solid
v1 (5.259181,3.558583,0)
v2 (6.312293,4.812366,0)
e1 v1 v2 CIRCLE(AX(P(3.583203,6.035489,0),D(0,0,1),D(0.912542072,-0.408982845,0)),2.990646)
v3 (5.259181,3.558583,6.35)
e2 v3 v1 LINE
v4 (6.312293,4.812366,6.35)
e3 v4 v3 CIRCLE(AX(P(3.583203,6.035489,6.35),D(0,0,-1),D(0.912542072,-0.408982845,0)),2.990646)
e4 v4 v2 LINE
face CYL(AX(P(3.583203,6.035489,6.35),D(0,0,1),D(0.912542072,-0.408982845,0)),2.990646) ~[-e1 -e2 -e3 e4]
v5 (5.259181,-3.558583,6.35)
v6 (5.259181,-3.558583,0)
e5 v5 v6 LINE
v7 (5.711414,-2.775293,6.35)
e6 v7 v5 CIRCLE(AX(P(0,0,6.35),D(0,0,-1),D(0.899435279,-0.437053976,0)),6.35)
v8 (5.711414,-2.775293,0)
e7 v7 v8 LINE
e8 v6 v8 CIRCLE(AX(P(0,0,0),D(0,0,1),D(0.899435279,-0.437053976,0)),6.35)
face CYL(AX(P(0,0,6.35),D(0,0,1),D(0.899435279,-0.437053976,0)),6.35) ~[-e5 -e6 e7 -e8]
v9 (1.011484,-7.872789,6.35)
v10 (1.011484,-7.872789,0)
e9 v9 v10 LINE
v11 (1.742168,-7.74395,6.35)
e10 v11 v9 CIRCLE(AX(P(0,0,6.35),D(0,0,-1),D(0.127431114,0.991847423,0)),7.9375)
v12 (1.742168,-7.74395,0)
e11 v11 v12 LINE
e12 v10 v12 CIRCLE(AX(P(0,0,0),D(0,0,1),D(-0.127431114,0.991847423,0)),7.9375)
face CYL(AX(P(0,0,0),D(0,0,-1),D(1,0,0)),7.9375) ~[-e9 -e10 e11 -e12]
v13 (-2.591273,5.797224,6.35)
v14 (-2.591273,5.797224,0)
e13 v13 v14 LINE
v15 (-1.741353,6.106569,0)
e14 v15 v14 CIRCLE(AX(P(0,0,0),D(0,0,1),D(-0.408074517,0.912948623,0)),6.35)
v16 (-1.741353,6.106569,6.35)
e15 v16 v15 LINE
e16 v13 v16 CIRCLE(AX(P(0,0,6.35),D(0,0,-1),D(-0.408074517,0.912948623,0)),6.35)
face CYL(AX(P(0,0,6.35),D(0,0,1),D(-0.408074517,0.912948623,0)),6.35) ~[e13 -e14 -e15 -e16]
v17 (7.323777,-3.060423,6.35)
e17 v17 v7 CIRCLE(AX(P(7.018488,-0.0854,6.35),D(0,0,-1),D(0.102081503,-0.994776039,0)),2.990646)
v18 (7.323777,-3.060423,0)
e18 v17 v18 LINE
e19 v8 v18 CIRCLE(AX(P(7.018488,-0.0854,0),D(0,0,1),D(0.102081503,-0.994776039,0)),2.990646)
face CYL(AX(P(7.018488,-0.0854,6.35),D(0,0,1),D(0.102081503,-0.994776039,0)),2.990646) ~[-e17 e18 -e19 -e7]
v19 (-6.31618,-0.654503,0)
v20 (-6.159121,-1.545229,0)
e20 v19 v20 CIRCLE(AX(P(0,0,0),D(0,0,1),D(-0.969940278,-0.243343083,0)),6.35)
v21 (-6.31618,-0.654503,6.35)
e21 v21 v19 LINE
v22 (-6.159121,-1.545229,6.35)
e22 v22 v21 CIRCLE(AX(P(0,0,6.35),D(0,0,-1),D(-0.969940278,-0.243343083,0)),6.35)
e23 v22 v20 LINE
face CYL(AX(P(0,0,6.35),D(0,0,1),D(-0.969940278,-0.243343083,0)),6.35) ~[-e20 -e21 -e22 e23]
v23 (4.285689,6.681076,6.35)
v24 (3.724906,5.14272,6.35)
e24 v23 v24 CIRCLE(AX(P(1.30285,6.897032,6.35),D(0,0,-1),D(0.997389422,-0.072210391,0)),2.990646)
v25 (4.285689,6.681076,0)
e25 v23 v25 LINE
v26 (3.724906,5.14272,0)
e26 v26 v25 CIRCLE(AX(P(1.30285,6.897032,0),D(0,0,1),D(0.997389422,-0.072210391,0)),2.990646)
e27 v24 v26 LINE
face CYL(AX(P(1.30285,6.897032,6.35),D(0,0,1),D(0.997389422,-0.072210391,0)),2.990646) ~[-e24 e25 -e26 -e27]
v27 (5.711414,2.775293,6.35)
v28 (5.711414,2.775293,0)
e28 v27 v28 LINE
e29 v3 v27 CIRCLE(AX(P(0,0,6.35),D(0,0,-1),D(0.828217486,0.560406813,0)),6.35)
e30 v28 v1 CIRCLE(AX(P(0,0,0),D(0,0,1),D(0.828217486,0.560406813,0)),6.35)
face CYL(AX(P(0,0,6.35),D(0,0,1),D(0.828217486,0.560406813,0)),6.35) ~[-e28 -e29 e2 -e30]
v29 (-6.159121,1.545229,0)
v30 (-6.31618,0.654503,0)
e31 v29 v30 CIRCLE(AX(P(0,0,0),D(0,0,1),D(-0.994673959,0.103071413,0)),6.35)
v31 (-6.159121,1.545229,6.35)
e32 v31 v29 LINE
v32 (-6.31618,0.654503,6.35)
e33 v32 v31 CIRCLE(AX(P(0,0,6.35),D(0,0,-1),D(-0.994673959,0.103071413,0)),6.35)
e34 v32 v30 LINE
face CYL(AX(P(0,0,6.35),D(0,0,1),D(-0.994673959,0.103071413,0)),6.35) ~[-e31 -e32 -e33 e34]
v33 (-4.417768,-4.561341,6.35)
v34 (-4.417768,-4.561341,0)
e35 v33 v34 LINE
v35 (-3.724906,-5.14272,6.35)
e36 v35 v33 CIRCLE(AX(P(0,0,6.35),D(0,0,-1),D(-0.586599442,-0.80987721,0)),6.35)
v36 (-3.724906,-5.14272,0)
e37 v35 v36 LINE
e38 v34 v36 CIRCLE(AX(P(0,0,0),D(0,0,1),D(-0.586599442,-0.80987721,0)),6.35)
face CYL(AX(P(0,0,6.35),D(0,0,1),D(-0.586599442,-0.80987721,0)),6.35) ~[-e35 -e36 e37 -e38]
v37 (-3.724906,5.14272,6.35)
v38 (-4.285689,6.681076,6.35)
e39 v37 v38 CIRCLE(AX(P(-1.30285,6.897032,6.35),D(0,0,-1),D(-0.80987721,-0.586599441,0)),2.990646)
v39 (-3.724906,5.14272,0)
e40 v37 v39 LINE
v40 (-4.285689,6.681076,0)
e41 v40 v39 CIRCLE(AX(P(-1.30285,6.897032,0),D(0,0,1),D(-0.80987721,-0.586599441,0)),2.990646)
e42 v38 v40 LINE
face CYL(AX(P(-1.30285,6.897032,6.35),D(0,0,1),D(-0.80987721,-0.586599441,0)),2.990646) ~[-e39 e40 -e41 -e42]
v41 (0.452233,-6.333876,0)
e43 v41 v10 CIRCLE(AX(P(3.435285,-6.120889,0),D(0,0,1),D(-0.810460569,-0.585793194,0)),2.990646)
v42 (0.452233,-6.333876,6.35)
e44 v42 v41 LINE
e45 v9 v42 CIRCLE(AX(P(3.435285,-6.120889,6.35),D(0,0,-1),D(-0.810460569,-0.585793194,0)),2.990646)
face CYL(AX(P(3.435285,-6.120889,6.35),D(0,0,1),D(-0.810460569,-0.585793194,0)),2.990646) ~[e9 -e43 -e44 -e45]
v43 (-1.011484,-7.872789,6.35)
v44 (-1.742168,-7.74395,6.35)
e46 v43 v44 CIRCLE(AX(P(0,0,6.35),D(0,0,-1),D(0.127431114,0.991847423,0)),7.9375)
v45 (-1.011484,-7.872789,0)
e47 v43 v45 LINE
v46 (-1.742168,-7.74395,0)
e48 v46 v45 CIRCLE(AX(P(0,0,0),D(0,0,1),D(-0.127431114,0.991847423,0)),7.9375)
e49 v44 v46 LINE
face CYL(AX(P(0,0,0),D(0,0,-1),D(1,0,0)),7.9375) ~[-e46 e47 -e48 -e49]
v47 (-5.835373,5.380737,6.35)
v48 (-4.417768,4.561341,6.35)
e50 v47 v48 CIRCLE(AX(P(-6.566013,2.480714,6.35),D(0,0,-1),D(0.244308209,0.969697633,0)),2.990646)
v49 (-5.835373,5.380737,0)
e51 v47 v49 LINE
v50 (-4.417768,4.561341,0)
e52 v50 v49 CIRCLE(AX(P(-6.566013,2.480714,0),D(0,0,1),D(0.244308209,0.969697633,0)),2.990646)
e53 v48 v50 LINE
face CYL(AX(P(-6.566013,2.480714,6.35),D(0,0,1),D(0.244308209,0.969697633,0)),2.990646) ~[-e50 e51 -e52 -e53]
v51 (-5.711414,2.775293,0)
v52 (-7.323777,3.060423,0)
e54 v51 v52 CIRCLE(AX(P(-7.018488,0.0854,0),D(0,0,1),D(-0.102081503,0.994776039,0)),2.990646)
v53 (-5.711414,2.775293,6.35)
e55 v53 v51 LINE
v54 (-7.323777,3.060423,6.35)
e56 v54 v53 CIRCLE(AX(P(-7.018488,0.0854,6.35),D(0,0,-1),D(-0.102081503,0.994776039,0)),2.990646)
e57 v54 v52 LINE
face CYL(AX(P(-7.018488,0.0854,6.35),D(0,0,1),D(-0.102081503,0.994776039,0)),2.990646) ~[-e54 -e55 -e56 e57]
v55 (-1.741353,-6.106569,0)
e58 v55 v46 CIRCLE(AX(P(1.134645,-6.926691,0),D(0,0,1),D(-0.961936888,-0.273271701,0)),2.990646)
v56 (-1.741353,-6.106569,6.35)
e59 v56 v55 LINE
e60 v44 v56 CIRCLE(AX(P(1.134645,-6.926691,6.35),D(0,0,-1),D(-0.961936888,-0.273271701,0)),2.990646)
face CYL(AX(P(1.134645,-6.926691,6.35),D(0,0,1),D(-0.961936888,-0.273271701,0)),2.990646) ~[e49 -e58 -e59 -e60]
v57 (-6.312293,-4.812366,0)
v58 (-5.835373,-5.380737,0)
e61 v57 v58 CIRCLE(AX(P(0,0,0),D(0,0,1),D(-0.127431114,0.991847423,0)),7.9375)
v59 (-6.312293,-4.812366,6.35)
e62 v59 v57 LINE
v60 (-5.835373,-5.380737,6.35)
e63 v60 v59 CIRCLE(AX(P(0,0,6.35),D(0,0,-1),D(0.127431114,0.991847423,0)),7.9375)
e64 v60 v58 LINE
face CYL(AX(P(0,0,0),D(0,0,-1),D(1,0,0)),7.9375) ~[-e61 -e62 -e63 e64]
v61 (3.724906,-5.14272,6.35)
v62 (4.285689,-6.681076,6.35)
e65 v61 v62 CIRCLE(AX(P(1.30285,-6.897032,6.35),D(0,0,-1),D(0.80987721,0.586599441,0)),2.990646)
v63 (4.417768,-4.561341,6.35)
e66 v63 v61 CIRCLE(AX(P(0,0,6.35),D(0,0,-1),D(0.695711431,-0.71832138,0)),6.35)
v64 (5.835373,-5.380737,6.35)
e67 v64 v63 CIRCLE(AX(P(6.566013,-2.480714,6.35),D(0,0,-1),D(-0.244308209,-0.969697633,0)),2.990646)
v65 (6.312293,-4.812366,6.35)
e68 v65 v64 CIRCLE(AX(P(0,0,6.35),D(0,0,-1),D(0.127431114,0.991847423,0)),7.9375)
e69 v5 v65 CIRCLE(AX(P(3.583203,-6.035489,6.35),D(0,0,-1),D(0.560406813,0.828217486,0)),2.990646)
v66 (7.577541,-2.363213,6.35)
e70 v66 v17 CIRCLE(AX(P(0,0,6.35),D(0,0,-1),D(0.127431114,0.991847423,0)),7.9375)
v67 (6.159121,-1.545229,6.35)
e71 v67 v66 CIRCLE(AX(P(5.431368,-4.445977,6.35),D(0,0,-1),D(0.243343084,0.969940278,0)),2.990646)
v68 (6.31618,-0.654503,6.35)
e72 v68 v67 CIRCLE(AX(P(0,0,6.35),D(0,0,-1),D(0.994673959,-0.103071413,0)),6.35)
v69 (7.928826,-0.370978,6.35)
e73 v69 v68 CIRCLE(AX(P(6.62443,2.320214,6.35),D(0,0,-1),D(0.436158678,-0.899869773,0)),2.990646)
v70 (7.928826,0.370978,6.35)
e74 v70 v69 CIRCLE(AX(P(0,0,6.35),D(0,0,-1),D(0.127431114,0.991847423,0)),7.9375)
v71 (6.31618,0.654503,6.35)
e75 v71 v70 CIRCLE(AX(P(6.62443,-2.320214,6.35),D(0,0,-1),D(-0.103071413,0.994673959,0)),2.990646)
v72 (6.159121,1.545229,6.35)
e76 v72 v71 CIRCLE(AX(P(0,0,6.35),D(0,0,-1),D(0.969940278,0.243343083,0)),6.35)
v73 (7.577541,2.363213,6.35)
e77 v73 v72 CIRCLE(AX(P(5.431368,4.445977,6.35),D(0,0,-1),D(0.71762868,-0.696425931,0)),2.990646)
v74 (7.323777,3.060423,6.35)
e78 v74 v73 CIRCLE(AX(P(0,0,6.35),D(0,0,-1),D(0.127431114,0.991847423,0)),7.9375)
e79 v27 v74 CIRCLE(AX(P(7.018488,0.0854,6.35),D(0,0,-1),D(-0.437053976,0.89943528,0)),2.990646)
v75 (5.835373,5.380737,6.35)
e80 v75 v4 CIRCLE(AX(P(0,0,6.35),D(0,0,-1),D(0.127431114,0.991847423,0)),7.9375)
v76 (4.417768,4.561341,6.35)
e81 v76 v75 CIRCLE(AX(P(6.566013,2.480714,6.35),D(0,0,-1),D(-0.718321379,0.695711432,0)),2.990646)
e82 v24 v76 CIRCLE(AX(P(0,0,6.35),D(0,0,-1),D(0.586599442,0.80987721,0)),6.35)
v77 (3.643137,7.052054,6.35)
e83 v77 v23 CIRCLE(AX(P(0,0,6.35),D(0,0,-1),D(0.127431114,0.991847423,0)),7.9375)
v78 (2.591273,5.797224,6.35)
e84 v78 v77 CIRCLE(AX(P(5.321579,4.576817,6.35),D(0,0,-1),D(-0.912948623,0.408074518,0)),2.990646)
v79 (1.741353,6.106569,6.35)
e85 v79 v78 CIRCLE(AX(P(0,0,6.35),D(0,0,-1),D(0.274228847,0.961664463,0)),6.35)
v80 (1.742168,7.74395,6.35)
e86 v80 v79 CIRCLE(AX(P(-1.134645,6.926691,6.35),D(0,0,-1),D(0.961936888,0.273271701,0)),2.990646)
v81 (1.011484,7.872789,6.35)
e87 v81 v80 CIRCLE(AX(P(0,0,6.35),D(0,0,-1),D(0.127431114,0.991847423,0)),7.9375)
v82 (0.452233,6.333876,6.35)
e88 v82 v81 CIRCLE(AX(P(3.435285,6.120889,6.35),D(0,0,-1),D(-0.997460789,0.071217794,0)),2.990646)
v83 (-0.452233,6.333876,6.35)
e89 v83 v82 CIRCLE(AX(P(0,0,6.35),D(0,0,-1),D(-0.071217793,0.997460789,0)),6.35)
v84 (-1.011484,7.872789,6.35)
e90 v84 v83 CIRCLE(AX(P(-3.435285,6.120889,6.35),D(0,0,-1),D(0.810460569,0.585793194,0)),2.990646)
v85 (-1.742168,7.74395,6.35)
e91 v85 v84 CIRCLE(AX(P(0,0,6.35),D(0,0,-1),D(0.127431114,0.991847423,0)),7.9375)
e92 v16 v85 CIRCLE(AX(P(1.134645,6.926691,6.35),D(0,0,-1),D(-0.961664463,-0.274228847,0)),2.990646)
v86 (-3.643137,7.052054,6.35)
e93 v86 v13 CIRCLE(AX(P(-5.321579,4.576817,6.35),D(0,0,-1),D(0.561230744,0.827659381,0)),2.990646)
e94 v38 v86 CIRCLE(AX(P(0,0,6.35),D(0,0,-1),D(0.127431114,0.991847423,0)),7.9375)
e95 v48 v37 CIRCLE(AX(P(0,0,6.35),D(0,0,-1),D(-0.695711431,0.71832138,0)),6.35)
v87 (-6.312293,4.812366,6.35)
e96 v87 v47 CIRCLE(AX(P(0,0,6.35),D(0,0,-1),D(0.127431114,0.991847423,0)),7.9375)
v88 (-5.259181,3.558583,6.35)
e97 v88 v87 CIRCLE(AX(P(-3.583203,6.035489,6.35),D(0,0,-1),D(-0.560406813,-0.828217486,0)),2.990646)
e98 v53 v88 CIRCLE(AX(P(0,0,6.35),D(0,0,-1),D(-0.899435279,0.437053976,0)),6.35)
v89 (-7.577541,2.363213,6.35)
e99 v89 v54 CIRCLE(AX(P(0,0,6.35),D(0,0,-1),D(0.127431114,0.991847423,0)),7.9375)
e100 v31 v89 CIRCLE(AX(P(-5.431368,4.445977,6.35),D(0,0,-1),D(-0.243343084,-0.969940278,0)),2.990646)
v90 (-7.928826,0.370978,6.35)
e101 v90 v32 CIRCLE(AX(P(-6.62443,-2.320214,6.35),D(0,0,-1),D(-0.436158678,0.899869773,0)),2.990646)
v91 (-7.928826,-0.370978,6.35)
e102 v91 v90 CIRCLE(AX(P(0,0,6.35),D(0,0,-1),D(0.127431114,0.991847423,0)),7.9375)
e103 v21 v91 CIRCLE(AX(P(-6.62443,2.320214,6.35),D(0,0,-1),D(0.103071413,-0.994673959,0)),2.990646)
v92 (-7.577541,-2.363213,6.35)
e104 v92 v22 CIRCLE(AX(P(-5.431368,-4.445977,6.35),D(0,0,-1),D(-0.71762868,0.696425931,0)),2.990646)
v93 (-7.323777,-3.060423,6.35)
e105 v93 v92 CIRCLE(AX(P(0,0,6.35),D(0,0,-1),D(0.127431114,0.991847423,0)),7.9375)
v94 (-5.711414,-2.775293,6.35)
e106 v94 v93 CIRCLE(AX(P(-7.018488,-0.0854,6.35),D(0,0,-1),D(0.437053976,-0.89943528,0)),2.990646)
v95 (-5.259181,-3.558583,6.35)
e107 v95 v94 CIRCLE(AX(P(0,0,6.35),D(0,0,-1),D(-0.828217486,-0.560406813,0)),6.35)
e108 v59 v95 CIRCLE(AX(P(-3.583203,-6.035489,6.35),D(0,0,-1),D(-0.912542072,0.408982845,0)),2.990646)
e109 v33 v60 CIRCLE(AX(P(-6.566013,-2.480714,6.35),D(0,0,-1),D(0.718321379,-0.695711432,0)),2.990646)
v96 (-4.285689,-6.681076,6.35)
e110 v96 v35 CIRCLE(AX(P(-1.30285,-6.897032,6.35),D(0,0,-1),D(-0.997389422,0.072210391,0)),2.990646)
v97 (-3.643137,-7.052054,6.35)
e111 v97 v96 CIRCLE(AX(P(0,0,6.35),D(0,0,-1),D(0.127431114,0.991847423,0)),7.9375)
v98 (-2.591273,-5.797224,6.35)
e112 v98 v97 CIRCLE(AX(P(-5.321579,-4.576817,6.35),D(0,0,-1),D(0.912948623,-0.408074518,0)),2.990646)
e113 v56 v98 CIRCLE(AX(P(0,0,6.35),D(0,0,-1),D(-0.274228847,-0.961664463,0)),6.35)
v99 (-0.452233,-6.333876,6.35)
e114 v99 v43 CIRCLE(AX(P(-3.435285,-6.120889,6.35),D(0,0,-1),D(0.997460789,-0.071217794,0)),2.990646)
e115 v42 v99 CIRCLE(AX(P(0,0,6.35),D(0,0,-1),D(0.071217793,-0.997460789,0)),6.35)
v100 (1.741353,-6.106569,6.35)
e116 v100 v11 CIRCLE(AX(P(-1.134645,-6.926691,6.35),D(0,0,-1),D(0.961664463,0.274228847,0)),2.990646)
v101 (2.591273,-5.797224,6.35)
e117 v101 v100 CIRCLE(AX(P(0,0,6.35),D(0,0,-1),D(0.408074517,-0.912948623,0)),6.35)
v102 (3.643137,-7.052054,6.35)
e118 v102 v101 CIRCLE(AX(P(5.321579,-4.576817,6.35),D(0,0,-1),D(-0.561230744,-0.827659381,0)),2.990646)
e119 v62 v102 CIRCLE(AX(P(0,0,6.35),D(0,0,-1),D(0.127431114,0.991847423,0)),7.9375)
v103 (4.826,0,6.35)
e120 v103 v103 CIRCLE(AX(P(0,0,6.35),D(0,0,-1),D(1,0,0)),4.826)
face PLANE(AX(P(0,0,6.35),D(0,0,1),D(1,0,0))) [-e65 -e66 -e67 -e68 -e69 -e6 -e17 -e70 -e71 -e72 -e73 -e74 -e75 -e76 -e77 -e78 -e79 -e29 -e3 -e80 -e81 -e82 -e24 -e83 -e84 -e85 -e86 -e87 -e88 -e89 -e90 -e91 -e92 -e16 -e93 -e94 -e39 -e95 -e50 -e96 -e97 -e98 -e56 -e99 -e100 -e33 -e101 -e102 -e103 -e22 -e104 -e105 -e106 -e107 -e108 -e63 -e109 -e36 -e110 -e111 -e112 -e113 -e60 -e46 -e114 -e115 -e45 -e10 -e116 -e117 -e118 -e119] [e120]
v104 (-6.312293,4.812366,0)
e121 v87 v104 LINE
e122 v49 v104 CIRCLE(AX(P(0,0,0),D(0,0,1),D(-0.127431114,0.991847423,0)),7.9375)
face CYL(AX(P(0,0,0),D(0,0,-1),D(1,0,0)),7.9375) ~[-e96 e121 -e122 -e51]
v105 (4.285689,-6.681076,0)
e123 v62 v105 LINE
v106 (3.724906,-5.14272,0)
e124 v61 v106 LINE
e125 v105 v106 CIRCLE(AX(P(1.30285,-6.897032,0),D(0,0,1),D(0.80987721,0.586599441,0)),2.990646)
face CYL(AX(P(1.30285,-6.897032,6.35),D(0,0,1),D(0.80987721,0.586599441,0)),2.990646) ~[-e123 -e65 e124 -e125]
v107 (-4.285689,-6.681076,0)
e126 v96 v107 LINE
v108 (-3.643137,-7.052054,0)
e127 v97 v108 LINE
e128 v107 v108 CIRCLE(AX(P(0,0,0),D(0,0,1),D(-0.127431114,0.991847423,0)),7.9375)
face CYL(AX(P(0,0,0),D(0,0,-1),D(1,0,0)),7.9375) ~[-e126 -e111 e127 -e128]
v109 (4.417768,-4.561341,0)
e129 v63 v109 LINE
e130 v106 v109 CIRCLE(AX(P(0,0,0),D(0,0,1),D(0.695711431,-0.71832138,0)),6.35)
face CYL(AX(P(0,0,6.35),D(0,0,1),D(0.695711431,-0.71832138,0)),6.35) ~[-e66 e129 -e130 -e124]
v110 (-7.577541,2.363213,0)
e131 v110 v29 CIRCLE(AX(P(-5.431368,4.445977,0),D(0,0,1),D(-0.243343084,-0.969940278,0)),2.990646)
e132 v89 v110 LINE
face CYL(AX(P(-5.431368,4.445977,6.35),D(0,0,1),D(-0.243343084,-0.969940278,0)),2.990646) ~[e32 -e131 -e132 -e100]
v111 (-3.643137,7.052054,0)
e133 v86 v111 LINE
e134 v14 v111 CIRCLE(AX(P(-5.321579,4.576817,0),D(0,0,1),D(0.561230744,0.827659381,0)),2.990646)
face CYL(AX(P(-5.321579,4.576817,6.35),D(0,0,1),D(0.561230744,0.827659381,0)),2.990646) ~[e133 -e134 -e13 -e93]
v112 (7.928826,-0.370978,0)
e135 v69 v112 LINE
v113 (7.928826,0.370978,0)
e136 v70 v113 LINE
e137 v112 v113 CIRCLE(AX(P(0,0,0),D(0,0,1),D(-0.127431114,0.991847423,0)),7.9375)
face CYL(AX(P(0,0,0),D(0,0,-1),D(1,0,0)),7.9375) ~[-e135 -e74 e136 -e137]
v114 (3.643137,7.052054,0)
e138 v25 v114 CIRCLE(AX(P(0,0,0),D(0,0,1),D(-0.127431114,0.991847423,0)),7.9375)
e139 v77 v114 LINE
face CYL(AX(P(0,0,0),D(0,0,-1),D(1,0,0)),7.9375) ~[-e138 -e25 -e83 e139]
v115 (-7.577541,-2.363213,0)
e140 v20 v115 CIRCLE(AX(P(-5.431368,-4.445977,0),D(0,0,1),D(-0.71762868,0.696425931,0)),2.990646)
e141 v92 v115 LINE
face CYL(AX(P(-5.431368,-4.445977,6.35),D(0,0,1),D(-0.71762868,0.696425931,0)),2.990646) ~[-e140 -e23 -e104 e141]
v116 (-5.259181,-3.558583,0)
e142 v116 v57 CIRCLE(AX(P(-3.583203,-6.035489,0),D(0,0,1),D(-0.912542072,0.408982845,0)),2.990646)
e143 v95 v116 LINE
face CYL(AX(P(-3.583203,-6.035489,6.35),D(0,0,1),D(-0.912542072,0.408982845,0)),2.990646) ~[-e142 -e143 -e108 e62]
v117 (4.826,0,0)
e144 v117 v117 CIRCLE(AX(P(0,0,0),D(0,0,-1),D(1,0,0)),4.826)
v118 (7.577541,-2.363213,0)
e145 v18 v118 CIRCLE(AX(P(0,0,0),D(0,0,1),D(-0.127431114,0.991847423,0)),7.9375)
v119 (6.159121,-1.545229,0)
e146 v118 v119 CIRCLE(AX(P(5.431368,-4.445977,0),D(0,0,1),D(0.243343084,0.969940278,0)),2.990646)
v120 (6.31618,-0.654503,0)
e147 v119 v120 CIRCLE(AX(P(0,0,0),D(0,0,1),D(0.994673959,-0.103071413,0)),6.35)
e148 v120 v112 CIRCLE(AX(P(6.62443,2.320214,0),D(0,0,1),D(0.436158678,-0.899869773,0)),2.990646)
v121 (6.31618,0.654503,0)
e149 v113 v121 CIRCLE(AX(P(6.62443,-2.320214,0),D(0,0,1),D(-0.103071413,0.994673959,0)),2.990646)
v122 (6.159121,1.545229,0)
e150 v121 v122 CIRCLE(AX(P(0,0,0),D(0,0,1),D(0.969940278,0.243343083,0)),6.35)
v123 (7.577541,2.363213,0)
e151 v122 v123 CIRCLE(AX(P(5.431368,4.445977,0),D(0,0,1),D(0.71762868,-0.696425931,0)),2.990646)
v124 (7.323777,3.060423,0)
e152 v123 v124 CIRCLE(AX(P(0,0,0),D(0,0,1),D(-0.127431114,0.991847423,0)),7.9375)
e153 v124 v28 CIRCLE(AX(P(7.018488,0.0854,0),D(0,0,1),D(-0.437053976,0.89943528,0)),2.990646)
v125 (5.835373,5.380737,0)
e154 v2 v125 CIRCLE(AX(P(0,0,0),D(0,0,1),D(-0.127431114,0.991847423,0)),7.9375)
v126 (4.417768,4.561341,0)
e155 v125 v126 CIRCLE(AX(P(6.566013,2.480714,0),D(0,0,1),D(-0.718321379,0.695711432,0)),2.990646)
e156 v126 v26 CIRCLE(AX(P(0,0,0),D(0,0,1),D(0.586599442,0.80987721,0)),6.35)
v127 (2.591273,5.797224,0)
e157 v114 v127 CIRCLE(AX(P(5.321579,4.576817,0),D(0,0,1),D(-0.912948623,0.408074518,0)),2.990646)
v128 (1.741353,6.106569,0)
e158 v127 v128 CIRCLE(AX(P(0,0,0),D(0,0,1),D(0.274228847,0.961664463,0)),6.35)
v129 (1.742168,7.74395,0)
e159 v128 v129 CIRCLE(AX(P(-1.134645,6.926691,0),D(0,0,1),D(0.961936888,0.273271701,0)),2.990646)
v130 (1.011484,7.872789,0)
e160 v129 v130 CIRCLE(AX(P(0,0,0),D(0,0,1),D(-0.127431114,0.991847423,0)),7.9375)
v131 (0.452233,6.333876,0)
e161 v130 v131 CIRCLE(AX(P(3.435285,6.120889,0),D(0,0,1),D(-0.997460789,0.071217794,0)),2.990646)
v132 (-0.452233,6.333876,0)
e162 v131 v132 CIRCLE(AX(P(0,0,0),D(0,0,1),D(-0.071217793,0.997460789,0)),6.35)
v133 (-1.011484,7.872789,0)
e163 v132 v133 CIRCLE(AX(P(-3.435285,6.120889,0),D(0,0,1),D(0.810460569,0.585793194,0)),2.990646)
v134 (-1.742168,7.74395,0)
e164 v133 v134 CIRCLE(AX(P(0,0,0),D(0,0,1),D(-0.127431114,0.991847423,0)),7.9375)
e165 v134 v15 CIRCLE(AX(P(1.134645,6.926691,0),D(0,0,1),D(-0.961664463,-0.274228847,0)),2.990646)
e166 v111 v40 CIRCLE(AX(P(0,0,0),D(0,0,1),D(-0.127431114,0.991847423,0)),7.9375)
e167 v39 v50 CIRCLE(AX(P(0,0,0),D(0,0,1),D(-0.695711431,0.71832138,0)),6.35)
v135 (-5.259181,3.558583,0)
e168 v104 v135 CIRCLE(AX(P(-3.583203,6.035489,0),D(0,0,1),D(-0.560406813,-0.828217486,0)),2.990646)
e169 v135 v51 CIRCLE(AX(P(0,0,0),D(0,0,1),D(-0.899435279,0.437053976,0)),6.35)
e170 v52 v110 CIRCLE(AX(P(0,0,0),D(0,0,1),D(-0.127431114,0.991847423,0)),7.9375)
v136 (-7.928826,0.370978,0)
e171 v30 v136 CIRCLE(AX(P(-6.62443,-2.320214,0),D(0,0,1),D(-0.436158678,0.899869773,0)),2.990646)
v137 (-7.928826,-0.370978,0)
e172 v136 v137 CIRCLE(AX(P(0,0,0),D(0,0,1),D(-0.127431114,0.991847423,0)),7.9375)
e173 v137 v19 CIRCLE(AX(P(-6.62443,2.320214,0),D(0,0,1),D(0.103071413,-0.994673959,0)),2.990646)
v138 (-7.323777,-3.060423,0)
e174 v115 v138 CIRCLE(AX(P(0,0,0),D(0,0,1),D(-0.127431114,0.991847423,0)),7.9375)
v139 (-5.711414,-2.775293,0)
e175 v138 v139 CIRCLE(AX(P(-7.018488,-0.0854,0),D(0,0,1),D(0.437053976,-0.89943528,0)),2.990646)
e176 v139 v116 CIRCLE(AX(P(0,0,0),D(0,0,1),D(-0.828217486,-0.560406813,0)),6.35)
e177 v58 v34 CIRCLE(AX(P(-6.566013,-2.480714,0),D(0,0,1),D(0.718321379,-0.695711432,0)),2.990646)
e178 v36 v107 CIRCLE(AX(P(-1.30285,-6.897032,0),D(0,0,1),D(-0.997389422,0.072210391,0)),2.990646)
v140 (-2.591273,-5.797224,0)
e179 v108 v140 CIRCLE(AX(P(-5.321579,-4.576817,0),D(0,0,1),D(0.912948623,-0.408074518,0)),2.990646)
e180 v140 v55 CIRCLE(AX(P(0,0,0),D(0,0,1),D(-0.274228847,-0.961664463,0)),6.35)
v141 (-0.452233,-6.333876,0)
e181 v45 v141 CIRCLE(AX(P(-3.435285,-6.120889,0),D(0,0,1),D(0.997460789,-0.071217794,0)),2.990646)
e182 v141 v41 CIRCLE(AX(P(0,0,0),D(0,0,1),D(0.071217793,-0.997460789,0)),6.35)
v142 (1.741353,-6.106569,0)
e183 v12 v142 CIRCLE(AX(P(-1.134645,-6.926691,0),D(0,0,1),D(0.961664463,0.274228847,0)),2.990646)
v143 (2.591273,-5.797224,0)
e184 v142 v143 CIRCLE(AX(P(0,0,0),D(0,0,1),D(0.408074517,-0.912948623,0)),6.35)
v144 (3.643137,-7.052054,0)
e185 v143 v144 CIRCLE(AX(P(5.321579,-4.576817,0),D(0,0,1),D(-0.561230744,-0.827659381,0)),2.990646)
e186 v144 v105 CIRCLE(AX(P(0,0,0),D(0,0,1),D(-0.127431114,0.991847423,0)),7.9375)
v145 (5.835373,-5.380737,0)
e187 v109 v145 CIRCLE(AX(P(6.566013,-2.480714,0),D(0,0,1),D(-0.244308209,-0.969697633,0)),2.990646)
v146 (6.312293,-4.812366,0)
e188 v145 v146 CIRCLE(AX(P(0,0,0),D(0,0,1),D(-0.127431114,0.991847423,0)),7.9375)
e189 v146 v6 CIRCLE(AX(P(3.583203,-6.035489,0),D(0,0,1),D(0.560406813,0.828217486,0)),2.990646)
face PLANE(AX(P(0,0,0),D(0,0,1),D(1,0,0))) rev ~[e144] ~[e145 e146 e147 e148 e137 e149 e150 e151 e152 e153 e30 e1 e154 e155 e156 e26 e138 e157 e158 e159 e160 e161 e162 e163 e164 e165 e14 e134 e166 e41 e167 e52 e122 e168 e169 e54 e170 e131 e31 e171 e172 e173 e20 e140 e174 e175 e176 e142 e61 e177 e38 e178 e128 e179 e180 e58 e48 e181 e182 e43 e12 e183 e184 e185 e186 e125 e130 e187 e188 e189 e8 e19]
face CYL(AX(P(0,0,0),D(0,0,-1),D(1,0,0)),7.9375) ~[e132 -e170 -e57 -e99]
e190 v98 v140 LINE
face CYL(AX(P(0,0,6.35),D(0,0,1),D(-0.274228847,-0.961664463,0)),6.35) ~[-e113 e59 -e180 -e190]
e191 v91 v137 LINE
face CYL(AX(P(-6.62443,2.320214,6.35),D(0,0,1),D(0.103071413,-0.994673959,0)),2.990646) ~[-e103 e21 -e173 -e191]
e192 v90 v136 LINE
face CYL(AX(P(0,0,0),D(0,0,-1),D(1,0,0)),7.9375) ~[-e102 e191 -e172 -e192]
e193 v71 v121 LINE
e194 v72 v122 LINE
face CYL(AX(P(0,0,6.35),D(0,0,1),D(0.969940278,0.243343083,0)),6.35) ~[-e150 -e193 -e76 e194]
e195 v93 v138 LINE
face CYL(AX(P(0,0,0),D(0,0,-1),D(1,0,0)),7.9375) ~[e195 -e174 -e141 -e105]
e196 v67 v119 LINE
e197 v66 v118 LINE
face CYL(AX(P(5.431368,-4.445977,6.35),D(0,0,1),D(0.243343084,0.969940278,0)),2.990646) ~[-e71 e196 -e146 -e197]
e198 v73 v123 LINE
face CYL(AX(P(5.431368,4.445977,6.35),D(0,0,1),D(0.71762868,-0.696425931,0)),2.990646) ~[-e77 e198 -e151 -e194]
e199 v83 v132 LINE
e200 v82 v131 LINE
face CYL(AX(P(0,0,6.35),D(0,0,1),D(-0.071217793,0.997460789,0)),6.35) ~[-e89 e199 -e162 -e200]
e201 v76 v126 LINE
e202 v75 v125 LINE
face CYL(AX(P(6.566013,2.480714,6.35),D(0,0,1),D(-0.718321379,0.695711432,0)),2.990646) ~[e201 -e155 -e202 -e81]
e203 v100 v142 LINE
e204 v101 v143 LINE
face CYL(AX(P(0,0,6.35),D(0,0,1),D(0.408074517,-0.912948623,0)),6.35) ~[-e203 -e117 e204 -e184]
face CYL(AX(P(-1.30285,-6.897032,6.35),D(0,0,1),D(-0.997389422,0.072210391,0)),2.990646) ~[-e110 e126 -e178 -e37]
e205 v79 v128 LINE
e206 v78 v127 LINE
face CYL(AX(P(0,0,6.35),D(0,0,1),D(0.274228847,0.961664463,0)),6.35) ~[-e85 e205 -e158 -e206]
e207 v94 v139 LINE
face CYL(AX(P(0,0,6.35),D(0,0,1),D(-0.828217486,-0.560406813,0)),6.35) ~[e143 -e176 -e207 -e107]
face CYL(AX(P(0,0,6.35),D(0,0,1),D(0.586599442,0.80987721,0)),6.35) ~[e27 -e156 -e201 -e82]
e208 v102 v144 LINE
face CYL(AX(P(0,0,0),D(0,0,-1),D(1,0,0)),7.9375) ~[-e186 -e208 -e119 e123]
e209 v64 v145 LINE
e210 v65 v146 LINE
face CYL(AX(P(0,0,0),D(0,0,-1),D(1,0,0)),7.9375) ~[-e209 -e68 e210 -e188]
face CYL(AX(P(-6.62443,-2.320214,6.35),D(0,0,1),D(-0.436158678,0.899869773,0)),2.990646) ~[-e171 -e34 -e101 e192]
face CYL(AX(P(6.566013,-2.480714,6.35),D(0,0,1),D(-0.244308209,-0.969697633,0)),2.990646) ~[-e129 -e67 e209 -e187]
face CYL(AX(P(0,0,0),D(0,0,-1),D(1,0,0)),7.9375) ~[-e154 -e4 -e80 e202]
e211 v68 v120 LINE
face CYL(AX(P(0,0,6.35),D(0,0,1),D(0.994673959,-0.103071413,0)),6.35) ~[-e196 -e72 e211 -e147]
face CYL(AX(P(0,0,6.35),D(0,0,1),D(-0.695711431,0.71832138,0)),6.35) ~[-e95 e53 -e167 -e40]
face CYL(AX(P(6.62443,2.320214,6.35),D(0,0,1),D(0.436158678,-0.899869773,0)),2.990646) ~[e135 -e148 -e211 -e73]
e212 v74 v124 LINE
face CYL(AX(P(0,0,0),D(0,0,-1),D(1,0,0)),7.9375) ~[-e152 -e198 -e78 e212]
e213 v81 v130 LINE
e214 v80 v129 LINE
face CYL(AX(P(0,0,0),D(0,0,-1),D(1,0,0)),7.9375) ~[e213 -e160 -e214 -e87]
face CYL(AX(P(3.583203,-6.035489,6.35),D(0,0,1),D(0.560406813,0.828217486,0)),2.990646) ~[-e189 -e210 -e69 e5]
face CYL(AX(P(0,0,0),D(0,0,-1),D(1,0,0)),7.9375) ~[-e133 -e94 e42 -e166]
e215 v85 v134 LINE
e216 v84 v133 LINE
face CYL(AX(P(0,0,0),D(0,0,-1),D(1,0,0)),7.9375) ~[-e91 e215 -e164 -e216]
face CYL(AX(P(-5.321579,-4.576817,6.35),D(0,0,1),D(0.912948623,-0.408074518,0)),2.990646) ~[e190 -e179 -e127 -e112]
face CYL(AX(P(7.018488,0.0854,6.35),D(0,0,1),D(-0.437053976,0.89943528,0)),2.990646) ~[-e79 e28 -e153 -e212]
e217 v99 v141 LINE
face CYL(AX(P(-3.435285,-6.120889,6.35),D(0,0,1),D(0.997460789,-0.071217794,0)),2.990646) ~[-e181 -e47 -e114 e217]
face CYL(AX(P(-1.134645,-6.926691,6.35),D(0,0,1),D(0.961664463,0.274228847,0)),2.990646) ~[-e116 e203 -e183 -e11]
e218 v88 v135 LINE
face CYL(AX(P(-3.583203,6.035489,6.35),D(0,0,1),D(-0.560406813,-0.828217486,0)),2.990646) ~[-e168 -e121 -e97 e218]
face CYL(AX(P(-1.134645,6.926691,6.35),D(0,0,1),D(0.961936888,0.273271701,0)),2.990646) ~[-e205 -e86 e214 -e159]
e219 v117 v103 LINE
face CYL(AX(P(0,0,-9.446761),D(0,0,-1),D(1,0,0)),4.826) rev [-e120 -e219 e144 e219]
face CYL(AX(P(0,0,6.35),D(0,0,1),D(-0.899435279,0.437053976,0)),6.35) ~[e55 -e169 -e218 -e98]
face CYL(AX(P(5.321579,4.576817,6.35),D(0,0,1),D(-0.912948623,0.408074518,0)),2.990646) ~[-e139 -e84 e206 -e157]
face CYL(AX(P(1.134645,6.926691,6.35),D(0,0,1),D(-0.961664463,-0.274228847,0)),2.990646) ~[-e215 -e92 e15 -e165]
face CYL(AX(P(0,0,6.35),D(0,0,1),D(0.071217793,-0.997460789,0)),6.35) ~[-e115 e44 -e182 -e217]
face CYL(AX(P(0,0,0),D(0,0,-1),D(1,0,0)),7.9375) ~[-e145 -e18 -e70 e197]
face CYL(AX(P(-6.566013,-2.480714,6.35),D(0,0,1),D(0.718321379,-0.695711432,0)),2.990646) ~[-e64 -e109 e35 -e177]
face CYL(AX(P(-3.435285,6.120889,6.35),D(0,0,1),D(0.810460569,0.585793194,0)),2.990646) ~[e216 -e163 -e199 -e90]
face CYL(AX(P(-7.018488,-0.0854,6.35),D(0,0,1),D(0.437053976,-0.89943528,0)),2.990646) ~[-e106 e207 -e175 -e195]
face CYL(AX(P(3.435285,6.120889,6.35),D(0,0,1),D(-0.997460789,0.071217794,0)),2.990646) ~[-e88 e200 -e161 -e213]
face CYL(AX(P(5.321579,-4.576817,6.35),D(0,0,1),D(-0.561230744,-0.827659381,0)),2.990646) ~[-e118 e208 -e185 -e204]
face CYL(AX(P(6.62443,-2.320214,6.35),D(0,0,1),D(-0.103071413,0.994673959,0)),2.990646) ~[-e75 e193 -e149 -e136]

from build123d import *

# Parameters (mm, degrees)
SKETCH1_R               = 7.9375
OUTER_CIRCLE_DEPTH      = 6.35
TOOTH_CUT_DEPTH         = 13.896910967
TEETH_PATTERN_COUNT     = 18
CUT_EXTRUDE1_DEPTH      = 12.621761341
CUT_EXTRUDE1_DEPTH_BACK = 12.621761341
PITCH_DIAMETER_R        = 4.826


with BuildPart() as part:
    # Sketch1 → Outer Circle (new body)
    with BuildSketch(Plane.XY):
        Circle(SKETCH1_R)
    extrude(amount=OUTER_CIRCLE_DEPTH)

    # Sketch2 → Tooth Cut (cut, through all)
    with BuildSketch(Plane.XY.offset(6.35)):
        with BuildLine():
            ThreePointArc((-0.452232993, 6.333876011), (0, 6.35), (0.452232993, 6.333876011))
            ThreePointArc((0.452232993, 6.333876011), (0.624488533, 7.142351531), (1.011484471, 7.872788922))
            ThreePointArc((1.011484471, 7.872788922), (0, 7.9375), (-1.011484471, 7.872788922))
            ThreePointArc((-1.011484471, 7.872788922), (-0.624488533, 7.142351531), (-0.452232993, 6.333876011))
        make_face()
    tooth_cut = extrude(amount=-TOOTH_CUT_DEPTH, mode=Mode.SUBTRACT)

    # Teeth Pattern: Tooth Cut ×18 about axis
    teeth_pattern_axis = Axis((0, 0, 0), (0, 0, 1))
    for i in range(1, TEETH_PATTERN_COUNT):
        add(tooth_cut.rotate(teeth_pattern_axis, i * 360 / TEETH_PATTERN_COUNT), mode=Mode.SUBTRACT)

    # Pitch Diameter → Cut-Extrude1 (cut, two sides: drawn at the far end of the back side and taken through both)
    with BuildSketch(Plane.XY.offset(3.175).offset(-CUT_EXTRUDE1_DEPTH_BACK)):
        Circle(PITCH_DIAMETER_R)
    extrude(amount=CUT_EXTRUDE1_DEPTH + CUT_EXTRUDE1_DEPTH_BACK, mode=Mode.SUBTRACT)


solid = part.part
